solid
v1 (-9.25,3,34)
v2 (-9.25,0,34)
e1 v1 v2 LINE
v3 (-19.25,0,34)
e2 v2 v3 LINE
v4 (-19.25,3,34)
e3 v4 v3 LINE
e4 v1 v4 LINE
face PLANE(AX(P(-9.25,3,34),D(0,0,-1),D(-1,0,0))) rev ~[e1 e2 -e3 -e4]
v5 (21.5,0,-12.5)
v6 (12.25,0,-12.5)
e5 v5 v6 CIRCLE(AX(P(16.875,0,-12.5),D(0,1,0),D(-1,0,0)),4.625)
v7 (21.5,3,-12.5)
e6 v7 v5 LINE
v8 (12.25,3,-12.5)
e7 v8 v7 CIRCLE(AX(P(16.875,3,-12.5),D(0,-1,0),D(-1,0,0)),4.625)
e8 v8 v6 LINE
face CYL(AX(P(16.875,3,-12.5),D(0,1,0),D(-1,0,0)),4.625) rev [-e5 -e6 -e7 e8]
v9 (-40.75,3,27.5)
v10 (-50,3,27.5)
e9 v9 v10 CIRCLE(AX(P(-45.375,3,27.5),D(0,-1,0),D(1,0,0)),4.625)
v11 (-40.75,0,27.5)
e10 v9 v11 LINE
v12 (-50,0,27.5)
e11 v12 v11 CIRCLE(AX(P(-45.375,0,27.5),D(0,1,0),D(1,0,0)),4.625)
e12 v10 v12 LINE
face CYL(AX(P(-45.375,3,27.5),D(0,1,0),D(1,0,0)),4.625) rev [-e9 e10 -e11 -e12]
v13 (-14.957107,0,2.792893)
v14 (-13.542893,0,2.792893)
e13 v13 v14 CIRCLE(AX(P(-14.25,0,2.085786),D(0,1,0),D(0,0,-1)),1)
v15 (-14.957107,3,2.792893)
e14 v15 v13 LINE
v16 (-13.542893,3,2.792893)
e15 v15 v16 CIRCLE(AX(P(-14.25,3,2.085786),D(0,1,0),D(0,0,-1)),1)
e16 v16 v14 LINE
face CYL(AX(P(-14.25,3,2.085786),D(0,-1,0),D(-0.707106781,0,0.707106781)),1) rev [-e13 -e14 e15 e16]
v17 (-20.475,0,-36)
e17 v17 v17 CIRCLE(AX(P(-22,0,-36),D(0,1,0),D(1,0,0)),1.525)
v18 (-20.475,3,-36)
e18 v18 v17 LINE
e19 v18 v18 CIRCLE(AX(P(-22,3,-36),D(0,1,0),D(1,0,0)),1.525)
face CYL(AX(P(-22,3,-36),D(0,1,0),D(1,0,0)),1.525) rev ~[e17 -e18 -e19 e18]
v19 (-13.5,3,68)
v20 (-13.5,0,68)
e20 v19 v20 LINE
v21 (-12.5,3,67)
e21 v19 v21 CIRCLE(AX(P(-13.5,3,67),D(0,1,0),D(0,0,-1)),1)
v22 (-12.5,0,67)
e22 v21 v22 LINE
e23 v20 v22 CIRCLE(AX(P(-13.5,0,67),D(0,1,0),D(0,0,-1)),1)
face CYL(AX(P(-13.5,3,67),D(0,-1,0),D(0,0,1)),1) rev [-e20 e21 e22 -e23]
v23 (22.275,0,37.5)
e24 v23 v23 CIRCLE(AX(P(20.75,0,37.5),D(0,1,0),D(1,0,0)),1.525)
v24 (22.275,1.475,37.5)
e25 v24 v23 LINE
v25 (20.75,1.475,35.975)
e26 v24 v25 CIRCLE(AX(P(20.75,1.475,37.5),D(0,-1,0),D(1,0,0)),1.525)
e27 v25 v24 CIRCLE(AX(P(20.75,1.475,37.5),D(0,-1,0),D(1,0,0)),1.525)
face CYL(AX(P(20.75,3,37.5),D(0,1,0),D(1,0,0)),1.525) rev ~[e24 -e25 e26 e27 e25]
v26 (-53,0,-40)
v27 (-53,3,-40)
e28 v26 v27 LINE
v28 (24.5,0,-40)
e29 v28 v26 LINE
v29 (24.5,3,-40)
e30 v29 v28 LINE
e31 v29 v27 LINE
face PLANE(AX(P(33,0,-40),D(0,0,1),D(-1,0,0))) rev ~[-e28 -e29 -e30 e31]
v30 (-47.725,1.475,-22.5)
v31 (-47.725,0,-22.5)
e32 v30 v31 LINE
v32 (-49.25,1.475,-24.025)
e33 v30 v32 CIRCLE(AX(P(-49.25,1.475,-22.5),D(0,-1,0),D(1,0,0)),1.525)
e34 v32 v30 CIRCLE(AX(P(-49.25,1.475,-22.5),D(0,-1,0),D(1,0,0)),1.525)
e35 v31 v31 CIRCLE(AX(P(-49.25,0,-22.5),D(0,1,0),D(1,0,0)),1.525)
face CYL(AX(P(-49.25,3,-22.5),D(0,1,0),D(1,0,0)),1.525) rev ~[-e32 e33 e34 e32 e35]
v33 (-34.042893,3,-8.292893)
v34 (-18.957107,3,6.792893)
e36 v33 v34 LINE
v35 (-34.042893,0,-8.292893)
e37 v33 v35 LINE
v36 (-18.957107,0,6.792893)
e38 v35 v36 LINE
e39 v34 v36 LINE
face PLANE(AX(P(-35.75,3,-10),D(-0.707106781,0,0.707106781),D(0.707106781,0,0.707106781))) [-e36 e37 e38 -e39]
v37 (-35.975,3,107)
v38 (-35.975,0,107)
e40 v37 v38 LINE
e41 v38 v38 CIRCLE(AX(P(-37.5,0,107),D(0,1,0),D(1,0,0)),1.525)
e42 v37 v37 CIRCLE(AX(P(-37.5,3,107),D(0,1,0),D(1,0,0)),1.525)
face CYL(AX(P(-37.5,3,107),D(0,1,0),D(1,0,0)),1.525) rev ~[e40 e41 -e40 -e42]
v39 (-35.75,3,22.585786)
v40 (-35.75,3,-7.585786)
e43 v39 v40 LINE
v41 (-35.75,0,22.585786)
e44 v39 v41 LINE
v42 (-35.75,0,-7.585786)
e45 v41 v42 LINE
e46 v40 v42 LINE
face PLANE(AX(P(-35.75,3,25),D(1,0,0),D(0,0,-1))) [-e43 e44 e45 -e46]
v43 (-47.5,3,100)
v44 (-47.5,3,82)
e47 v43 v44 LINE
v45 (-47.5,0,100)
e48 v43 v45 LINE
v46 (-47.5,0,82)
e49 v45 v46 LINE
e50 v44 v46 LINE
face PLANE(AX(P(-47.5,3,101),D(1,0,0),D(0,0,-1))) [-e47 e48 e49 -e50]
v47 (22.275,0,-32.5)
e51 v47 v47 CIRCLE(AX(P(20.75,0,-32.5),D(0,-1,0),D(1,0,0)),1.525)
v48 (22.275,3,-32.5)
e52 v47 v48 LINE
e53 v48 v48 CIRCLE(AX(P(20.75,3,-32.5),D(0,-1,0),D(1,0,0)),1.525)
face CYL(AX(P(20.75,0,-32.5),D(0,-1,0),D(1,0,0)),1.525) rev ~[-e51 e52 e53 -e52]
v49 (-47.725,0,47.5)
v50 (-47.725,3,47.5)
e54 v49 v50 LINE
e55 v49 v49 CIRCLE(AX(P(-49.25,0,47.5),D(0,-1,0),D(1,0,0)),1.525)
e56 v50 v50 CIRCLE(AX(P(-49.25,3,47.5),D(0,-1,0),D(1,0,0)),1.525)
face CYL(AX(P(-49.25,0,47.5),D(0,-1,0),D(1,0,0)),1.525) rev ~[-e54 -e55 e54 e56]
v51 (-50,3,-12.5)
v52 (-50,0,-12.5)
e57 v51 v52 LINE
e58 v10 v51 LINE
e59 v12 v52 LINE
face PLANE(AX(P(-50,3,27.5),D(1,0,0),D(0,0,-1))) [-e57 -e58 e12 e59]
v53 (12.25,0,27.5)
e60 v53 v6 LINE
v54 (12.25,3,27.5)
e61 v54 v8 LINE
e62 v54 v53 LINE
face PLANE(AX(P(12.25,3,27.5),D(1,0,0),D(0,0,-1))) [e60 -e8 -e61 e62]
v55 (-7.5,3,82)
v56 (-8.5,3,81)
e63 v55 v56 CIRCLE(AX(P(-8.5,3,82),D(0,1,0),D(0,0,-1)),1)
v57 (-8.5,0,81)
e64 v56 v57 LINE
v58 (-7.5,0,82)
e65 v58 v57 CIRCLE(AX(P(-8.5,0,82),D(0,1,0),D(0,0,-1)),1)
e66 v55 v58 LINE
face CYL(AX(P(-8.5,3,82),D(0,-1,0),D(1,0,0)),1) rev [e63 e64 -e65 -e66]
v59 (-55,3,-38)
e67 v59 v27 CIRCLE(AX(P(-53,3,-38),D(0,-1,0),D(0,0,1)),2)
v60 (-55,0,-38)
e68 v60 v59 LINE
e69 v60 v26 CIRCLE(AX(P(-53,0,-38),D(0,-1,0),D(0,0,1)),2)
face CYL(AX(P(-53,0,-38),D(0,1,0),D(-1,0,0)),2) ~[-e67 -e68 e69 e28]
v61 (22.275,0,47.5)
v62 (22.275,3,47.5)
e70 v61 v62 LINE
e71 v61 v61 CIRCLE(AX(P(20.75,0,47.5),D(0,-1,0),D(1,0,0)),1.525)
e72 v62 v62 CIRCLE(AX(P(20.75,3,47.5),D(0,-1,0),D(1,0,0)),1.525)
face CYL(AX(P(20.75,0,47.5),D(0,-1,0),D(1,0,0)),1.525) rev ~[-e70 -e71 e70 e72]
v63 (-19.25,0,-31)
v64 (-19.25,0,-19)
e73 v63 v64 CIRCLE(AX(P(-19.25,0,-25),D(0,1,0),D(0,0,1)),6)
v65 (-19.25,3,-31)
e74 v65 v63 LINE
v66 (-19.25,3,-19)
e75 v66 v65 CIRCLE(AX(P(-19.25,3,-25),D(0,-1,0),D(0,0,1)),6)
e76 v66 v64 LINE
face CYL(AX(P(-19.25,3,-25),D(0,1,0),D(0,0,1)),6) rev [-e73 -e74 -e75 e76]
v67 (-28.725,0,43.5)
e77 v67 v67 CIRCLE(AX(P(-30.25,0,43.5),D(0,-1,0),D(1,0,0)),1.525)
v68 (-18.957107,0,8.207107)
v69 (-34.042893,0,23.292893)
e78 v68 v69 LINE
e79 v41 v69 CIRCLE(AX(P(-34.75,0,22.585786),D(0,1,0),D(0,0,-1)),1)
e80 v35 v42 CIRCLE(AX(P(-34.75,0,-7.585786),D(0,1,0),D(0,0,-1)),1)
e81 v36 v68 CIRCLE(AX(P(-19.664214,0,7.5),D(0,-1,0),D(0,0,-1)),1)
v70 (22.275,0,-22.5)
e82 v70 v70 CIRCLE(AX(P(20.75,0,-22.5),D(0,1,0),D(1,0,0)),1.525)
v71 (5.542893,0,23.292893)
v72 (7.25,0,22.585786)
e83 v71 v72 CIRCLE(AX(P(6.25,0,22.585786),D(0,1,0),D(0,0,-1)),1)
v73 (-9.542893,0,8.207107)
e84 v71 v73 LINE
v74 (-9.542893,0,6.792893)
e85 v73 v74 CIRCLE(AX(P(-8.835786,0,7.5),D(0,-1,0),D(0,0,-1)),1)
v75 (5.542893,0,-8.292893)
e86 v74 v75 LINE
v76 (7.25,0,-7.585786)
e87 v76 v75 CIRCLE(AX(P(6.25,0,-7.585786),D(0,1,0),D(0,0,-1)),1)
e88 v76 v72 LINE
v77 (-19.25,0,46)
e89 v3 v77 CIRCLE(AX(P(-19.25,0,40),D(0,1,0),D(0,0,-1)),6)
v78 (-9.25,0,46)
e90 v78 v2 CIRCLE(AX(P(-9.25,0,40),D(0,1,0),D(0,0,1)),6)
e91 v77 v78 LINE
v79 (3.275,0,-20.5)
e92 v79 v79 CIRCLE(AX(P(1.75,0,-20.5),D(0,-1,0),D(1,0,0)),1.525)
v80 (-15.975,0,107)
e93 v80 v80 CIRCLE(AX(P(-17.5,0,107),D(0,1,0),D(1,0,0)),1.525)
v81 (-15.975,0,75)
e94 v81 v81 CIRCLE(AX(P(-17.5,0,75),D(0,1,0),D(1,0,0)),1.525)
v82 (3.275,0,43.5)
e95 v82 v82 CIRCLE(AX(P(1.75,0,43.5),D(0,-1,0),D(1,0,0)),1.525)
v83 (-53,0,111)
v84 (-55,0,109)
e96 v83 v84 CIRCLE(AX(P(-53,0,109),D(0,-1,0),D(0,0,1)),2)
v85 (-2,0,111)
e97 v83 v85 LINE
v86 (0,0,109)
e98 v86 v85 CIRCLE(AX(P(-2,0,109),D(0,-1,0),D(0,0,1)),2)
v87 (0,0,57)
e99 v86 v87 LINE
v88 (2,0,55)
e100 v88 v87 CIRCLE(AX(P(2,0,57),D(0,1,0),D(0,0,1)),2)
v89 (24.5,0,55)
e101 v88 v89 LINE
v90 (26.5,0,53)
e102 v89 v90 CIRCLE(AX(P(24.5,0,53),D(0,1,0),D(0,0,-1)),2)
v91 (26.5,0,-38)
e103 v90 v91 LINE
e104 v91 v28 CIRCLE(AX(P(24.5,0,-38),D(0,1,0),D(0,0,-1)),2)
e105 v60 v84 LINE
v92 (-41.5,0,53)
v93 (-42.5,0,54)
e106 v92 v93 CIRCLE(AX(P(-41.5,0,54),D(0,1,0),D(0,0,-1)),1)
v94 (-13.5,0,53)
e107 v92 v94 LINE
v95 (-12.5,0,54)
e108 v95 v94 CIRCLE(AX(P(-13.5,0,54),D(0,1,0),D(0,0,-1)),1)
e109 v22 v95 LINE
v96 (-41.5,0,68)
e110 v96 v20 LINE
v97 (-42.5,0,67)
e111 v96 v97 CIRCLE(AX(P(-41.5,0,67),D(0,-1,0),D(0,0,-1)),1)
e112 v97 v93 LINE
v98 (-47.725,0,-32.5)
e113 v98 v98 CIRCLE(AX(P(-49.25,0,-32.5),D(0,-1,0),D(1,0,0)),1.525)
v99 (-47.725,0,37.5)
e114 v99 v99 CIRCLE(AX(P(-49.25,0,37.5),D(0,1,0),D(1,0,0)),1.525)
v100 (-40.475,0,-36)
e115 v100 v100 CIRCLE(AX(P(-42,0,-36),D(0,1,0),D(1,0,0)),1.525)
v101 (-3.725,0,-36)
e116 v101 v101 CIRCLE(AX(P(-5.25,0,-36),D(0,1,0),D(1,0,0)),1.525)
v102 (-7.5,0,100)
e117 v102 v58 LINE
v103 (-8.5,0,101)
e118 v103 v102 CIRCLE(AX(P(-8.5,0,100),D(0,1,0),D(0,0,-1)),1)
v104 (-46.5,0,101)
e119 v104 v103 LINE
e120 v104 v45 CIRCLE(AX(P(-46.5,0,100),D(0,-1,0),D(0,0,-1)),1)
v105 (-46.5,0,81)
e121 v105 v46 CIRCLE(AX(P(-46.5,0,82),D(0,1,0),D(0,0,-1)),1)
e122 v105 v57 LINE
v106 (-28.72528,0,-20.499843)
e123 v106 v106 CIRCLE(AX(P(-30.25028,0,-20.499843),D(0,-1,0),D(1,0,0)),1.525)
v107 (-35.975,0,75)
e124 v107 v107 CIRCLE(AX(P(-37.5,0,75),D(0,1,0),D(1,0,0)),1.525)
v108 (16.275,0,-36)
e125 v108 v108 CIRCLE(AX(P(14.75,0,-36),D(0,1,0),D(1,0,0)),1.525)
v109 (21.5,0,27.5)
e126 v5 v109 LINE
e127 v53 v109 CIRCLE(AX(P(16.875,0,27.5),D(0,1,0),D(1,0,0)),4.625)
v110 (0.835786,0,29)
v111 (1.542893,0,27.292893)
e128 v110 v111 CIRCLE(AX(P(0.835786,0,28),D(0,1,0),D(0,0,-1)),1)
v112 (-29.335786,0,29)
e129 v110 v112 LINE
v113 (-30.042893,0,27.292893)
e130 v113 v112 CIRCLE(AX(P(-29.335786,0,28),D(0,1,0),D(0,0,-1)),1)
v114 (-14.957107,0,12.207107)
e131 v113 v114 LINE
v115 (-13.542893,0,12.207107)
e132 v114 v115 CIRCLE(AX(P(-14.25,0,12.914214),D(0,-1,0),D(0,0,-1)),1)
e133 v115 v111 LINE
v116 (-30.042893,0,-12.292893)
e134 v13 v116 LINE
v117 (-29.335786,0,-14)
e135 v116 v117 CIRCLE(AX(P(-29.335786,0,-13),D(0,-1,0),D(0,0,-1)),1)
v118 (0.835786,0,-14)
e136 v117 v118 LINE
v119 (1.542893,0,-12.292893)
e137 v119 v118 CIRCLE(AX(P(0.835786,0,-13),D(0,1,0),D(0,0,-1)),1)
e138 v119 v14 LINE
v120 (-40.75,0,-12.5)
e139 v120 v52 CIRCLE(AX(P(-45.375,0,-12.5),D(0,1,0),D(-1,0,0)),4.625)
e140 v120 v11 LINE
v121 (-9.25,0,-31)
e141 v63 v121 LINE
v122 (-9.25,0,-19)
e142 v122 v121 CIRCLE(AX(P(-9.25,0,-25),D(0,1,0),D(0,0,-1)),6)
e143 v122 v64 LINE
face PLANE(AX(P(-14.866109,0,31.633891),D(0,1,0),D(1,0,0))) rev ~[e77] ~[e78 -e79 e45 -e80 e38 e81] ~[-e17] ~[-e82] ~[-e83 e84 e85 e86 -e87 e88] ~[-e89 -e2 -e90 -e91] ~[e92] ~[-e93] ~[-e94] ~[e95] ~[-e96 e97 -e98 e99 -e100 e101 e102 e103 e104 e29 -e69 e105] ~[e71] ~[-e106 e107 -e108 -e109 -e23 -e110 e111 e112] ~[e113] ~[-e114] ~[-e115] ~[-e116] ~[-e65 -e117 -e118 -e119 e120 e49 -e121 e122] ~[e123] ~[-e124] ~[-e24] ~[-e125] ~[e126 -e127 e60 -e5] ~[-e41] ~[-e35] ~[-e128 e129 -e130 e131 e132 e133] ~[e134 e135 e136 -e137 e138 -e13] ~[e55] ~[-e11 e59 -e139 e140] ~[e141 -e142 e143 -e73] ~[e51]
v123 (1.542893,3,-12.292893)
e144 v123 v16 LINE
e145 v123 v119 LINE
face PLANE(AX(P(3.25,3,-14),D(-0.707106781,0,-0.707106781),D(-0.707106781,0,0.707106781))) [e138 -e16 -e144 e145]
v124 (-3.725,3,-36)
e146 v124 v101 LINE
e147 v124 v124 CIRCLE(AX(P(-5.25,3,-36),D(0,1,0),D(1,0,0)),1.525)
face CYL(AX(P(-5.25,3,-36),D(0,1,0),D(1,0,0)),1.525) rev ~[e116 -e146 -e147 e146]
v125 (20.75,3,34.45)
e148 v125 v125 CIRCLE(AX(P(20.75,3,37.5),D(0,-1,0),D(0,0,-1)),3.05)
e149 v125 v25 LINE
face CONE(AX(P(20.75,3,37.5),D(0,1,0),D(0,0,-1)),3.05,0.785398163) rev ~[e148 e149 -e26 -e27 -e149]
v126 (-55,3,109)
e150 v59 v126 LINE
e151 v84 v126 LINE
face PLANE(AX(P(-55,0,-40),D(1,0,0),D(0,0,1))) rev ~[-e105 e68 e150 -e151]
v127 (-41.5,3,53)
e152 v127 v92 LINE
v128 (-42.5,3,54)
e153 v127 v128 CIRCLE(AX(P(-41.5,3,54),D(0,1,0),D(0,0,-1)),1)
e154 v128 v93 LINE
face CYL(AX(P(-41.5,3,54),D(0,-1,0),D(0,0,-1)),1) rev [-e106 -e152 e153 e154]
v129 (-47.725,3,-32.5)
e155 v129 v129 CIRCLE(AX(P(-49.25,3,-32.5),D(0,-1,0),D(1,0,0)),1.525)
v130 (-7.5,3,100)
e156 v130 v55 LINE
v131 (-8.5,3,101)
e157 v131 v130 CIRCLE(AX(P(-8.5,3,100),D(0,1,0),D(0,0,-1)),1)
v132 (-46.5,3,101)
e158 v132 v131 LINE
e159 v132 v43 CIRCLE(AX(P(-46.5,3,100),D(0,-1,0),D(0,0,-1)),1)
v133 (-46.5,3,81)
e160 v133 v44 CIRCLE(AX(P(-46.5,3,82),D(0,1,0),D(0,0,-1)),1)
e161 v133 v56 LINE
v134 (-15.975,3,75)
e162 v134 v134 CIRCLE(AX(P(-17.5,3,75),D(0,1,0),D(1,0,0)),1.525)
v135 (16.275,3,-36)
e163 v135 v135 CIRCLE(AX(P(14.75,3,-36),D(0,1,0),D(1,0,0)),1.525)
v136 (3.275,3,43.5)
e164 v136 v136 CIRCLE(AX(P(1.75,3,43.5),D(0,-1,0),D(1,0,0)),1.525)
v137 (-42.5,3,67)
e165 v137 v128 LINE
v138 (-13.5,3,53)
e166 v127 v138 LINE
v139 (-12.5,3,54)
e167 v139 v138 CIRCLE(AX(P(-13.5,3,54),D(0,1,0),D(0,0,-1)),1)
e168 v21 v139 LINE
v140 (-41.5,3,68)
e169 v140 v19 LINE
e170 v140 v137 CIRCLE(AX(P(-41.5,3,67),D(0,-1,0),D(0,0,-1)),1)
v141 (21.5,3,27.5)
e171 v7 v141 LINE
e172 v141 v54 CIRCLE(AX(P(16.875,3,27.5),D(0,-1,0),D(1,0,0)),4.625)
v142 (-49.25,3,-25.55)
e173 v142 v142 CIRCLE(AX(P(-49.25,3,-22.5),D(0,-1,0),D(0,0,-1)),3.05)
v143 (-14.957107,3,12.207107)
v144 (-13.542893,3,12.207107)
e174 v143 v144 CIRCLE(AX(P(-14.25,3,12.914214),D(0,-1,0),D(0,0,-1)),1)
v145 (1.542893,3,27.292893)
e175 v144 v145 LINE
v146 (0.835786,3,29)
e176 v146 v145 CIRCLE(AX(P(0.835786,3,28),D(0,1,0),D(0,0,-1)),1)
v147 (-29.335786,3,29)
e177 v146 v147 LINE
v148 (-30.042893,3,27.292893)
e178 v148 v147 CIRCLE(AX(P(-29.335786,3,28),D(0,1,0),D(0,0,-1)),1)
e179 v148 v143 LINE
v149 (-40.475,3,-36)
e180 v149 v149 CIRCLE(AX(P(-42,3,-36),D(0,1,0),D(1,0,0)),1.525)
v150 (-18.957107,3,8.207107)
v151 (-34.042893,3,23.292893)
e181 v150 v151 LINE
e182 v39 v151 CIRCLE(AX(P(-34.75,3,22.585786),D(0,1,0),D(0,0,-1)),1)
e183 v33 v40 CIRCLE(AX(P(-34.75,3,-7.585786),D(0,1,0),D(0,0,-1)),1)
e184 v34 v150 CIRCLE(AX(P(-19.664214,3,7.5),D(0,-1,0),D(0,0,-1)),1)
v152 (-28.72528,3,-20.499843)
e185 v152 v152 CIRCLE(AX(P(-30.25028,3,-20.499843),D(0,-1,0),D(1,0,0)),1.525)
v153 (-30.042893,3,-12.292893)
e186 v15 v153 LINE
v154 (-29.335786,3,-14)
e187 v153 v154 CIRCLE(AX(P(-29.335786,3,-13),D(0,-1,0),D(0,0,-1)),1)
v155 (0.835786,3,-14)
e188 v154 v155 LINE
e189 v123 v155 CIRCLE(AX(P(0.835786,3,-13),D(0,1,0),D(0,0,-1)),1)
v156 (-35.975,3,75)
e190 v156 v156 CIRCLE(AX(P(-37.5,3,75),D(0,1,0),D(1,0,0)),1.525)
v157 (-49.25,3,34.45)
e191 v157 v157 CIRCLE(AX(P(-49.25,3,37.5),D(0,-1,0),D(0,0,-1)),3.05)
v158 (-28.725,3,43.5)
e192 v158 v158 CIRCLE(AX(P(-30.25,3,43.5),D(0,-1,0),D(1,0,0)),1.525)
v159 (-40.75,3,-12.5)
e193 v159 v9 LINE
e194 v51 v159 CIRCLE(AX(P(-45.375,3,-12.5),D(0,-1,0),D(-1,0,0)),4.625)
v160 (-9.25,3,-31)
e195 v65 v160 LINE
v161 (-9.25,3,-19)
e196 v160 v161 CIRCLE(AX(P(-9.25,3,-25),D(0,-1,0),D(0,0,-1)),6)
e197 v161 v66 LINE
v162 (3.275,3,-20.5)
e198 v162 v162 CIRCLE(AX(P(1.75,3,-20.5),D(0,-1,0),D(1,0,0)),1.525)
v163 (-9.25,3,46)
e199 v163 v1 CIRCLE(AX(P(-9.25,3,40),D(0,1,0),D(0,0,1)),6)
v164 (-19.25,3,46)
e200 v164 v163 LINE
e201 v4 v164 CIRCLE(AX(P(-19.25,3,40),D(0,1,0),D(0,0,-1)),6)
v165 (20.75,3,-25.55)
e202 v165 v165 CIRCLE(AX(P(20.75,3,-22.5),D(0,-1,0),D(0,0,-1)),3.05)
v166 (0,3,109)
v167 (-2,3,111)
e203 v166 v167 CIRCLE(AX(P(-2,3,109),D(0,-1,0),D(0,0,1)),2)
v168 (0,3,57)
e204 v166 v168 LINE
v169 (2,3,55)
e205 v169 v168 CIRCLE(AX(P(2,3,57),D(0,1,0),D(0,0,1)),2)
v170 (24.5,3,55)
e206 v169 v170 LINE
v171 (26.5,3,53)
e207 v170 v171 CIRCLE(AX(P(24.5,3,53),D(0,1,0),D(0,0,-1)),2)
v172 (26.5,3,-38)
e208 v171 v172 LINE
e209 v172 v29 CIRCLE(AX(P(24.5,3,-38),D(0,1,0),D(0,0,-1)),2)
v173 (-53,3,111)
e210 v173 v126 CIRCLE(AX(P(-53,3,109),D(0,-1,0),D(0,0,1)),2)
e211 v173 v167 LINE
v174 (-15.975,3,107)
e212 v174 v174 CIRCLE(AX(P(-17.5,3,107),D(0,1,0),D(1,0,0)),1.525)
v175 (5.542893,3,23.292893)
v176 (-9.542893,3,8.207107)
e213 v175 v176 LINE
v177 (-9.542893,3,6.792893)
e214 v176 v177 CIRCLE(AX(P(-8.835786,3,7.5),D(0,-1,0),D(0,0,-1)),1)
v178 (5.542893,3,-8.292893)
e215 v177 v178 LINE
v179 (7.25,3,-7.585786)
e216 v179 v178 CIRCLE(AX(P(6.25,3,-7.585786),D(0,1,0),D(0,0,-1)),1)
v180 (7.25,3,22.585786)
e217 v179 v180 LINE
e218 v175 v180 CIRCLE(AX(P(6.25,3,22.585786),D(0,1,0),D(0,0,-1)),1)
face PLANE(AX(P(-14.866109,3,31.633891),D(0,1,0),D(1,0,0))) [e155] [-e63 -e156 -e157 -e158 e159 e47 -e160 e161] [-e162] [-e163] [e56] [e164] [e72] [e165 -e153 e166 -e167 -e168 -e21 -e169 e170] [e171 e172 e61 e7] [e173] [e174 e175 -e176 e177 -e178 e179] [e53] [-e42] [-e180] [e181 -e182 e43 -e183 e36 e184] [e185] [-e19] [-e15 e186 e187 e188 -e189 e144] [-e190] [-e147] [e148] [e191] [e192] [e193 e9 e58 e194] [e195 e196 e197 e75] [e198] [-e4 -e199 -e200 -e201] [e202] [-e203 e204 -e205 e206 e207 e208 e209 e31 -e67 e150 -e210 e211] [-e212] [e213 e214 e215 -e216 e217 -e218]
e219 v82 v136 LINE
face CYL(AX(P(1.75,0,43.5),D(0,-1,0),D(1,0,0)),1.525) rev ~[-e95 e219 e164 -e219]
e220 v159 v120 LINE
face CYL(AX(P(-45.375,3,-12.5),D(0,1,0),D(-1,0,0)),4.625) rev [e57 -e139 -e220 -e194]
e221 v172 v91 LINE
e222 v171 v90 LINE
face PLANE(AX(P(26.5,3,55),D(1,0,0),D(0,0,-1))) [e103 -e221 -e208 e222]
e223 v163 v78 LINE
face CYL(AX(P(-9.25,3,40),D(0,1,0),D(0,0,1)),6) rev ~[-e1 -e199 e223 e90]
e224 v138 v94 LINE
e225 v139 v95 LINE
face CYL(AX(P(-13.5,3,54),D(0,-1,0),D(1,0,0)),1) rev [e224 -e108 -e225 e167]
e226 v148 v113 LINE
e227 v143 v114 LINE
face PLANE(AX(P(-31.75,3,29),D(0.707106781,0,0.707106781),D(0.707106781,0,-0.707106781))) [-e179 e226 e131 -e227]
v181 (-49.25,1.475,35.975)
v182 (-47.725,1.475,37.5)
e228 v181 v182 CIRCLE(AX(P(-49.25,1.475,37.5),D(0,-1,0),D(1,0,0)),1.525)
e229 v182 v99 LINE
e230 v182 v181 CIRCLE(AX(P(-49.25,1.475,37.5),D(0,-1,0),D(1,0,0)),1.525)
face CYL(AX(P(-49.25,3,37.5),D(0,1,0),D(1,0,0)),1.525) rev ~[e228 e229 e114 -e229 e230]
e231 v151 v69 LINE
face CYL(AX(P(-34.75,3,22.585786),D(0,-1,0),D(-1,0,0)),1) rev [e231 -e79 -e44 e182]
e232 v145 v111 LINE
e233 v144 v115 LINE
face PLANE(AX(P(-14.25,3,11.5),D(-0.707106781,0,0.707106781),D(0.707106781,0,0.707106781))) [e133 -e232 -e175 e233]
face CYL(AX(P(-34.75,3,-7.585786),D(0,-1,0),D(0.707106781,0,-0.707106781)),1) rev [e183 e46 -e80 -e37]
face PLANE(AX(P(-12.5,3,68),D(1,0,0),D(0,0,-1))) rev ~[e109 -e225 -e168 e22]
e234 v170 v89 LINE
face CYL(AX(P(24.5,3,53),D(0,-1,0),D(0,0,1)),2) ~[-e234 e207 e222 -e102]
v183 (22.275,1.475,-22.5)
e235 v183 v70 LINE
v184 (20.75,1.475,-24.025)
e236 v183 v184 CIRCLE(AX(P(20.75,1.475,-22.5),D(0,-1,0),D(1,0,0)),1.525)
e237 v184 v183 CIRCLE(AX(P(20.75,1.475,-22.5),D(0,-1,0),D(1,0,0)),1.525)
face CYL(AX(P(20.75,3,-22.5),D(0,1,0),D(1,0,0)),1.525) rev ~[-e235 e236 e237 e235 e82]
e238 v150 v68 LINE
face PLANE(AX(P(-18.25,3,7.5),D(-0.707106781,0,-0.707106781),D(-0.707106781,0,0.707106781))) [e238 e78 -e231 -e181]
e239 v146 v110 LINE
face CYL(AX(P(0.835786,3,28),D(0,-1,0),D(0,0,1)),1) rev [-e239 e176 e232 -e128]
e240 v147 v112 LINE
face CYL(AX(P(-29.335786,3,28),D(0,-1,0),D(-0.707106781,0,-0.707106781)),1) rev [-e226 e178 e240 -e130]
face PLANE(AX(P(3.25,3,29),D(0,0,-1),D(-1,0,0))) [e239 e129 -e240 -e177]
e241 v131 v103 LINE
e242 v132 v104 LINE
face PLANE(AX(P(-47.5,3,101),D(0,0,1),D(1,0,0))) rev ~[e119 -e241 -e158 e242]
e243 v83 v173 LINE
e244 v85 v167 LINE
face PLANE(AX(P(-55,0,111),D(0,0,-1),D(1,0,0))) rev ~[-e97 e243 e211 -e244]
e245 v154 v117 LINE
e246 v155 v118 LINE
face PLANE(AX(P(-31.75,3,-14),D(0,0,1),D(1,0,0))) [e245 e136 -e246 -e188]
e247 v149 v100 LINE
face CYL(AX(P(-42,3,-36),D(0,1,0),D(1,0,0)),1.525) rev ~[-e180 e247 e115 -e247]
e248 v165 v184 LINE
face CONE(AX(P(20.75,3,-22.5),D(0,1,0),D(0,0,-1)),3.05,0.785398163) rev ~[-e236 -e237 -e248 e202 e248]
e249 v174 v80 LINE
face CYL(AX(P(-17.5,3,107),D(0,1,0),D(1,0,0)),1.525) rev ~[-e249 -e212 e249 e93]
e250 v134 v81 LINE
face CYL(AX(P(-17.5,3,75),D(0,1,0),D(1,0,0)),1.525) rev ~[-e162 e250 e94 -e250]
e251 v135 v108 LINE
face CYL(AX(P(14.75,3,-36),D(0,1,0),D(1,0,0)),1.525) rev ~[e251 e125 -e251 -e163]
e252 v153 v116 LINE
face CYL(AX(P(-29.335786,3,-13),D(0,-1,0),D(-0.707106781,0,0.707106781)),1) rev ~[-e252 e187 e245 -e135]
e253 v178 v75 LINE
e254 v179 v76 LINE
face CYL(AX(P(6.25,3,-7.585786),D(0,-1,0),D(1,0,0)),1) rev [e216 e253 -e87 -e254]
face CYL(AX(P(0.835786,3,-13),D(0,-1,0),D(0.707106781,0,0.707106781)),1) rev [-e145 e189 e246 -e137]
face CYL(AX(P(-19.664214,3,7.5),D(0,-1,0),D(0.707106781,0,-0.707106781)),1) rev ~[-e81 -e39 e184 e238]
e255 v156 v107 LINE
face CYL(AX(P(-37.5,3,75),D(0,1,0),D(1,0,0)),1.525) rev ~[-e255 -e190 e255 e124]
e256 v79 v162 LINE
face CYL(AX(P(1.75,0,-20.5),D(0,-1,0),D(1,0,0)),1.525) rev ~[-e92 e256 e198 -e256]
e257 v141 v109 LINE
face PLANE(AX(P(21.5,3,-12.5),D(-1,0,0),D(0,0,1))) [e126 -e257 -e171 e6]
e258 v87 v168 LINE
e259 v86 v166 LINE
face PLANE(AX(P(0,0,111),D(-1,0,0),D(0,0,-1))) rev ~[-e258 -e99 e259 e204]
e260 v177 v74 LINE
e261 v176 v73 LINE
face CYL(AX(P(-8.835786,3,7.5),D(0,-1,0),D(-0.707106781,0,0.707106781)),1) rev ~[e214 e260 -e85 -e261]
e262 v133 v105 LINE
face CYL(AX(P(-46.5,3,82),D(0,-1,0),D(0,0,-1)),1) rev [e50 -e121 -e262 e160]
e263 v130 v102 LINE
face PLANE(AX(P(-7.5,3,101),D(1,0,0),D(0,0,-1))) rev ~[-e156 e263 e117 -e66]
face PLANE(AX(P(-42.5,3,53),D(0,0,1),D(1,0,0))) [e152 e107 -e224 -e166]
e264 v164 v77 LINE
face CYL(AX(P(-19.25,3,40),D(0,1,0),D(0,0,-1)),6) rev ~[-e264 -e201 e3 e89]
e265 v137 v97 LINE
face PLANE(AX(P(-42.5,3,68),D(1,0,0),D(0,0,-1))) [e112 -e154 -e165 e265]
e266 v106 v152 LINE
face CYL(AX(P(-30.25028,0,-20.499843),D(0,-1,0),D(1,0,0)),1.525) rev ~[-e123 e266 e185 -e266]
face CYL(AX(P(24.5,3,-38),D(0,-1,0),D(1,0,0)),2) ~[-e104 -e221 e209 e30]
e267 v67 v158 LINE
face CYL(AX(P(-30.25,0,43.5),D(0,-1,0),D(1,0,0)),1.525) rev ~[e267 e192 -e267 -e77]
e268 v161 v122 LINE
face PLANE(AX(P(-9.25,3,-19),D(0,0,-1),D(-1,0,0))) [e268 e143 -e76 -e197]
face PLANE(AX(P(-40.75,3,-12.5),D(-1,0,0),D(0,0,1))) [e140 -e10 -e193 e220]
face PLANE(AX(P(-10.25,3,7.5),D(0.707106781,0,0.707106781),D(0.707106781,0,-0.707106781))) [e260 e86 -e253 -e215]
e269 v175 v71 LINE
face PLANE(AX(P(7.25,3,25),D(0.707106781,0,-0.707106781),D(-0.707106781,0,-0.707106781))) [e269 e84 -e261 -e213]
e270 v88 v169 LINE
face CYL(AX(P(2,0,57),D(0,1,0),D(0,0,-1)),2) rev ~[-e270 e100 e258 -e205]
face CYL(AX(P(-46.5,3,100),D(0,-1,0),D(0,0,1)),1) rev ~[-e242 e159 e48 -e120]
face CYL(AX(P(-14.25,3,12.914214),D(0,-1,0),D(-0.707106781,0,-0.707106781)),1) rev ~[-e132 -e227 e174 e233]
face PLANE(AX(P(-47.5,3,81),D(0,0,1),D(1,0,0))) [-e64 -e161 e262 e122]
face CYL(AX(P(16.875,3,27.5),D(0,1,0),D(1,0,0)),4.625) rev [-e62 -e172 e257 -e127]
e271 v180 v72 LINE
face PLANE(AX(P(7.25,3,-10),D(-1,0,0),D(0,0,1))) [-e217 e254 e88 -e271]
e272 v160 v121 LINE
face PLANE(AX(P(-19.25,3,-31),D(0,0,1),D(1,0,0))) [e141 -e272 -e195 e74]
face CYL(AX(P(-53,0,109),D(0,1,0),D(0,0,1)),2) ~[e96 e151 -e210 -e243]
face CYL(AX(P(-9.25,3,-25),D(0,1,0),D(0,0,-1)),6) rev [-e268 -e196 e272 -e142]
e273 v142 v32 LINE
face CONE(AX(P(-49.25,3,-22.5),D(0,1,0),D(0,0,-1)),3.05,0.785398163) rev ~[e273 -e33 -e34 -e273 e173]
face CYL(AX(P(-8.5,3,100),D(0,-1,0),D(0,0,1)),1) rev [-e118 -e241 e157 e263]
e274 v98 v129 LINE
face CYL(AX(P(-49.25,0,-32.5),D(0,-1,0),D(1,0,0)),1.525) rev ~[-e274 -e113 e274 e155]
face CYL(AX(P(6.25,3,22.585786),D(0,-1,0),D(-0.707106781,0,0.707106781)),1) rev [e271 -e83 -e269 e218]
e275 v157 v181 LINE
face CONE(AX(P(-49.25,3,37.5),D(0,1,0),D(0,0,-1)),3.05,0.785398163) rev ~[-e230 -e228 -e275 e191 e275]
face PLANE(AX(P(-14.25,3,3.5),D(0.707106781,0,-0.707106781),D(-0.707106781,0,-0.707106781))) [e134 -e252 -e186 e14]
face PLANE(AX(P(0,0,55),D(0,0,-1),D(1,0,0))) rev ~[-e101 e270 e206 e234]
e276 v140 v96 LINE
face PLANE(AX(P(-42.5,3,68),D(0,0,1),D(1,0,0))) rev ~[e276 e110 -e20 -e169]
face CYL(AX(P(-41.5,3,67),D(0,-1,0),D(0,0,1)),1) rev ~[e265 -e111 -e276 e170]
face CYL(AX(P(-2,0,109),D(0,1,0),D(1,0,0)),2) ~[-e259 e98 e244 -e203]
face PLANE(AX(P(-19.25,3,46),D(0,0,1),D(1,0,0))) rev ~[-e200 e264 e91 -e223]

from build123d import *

# Parameters (mm, degrees)
EXTRUDE_1_DEPTH           = 3
SKETCH_2_R                = 1.525
CUT_EXTRUDE_1_DEPTH       = 4
SKETCH_5_W                = 6.5
SKETCH_5_H                = 95
CUT_EXTRUDE_4_DEPTH       = 4
FILLET_3_R                = 2
SKETCH_7_R                = 1.525
CUT_EXTRUDE_6_DEPTH       = 10
SKETCH_10_R               = 1.525
CUT_EXTRUDE_8_DEPTH       = 10
CUT_EXTRUDE_9_DEPTH       = 1
CUT_EXTRUDE_9_DEPTH_BACK  = 4
FILLET_4_R                = 1
SKETCH_15_W               = 40
SKETCH_15_H               = 20
SKETCH_15_W_2             = 30
SKETCH_15_H_2             = 15
CUT_EXTRUDE_10_DEPTH      = 1
CUT_EXTRUDE_10_DEPTH_BACK = 4
FILLET_5_R                = 1
CUT_EXTRUDE_12_DEPTH      = 1
CUT_EXTRUDE_12_DEPTH_BACK = 4
SKETCH_19_R               = 1.525
CUT_EXTRUDE_13_DEPTH      = 10
CUT_EXTRUDE_14_DEPTH      = 10
HOLE_WIZARD_1_D           = 3.05
HOLE_WIZARD_1_DEPTH       = 100
HOLE_WIZARD_1_CSINK_D     = 6.1
HOLE_WIZARD_1_CSINK_ANGLE = 90


with BuildPart() as part:
    # 草图1 → 凸台-拉伸1 (new body)
    with BuildSketch(Plane(origin=(0, 0, 0), x_dir=(1, 0, 0), z_dir=(0, 1, 0))):
        Polygon((33, -55), (33, 0), (33, 40), (-55, 40), (-55, -111), (0, -111), (0, -55), align=None)
    extrude(amount=EXTRUDE_1_DEPTH)

    # 草图2 → 切除-拉伸1 (cut, through all)
    with BuildSketch(Plane(origin=(0, 3, 0), x_dir=(1, 0, 0), z_dir=(0, 1, 0))):
        with Locations((-37.5, -107)):
            Circle(SKETCH_2_R)
        with Locations((-17.5, -107)):
            Circle(SKETCH_2_R)
        with Locations((-37.5, -75)):
            Circle(SKETCH_2_R)
        with Locations((-17.5, -75)):
            Circle(SKETCH_2_R)
        with Locations((-42, 36)):
            Circle(SKETCH_2_R)
        with Locations((-22, 36)):
            Circle(SKETCH_2_R)
        with Locations((-5.25, 36)):
            Circle(SKETCH_2_R)
        with Locations((14.75, 36)):
            Circle(SKETCH_2_R)
    extrude(amount=-CUT_EXTRUDE_1_DEPTH, mode=Mode.SUBTRACT)

    # 草图5 → 切除-拉伸4 (cut, through all)
    with BuildSketch(Plane(origin=(0, 3, 0), x_dir=(1, 0, 0), z_dir=(0, 1, 0))):
        with Locations((29.75, -7.5)):
            Rectangle(SKETCH_5_W, SKETCH_5_H)
    extrude(amount=-CUT_EXTRUDE_4_DEPTH, mode=Mode.SUBTRACT)

    # 圆角3
    fillet_3_edges = [part.edges().sort_by_distance(p)[0] for p in [
        (0, 1.5, 111),
        (-55, 1.5, 111),
        (-55, 1.5, -40),
        (0, 1.5, 55),
        (26.5, 1.5, 55),
        (26.5, 1.5, -40),
    ]]
    fillet(fillet_3_edges, radius=FILLET_3_R)

    # 草图7 → 切除-拉伸6 (cut)
    with BuildSketch(Plane.XZ):
        with Locations((-49.25, 47.5)):
            Circle(SKETCH_7_R)
        with Locations((-49.25, -32.5)):
            Circle(SKETCH_7_R)
        with Locations((20.75, -32.5)):
            Circle(SKETCH_7_R)
        with Locations((20.75, 47.5)):
            Circle(SKETCH_7_R)
    extrude(amount=-CUT_EXTRUDE_6_DEPTH, mode=Mode.SUBTRACT)

    # 草图10 → 切除-拉伸8 (cut)
    with BuildSketch(Plane.XZ):
        with Locations((-30.25, 43.5)):
            Circle(SKETCH_10_R)
        with Locations((1.75, 43.5)):
            Circle(SKETCH_10_R)
        with Locations((-30.25028, -20.4998432)):
            Circle(SKETCH_10_R)
        with Locations((1.75, -20.5)):
            Circle(SKETCH_10_R)
    extrude(amount=-CUT_EXTRUDE_8_DEPTH, mode=Mode.SUBTRACT)

    # 草图14 → 切除-拉伸9 (cut, two sides)
    with BuildSketch(Plane(origin=(0, 3, 0), x_dir=(1, 0, 0), z_dir=(0, 1, 0))) as cut_extrude_9_sk:
        Polygon((-10.25, -7.5), (7.25, 10), (7.25, -25), align=None)
        Polygon((-31.75, 14), (3.25, 14), (-14.25, -3.5), align=None)
        Polygon((-14.25, -11.5), (3.25, -29), (-31.75, -29), align=None)
        Polygon((-18.25, -7.5), (-35.75, -25), (-35.75, 10), align=None)
    extrude(amount=CUT_EXTRUDE_9_DEPTH, mode=Mode.SUBTRACT)
    extrude(cut_extrude_9_sk.sketch, amount=-CUT_EXTRUDE_9_DEPTH_BACK, mode=Mode.SUBTRACT)

    # 圆角4
    fillet_4_edges = [part.edges().sort_by_distance(p)[0] for p in [
        (3.25, 1.5, 29),
        (-31.75, 1.5, 29),
        (-14.25, 1.5, 11.5),
        (7.25, 1.5, -10),
        (7.25, 1.5, 25),
        (-10.25, 1.5, 7.5),
        (-35.75, 1.5, 25),
        (-35.75, 1.5, -10),
        (-18.25, 1.5, 7.5),
        (-14.25, 1.5, 3.5),
        (-31.75, 1.5, -14),
        (3.25, 1.5, -14),
    ]]
    fillet(fillet_4_edges, radius=FILLET_4_R)

    # 草图15 → 切除-拉伸10 (cut, two sides)
    with BuildSketch(Plane(origin=(0, 3, 0), x_dir=(1, 0, 0), z_dir=(0, 1, 0))) as cut_extrude_10_sk:
        with Locations((-27.5, -91)):
            Rectangle(SKETCH_15_W, SKETCH_15_H)
        with Locations((-27.5, -60.5)):
            Rectangle(SKETCH_15_W_2, SKETCH_15_H_2)
    extrude(amount=CUT_EXTRUDE_10_DEPTH, mode=Mode.SUBTRACT)
    extrude(cut_extrude_10_sk.sketch, amount=-CUT_EXTRUDE_10_DEPTH_BACK, mode=Mode.SUBTRACT)

    # 圆角5
    fillet_5_edges = [part.edges().sort_by_distance(p)[0] for p in [
        (-7.5, 1.5, 81),
        (-7.5, 1.5, 101),
        (-47.5, 1.5, 101),
        (-47.5, 1.5, 81),
        (-12.5, 1.5, 53),
        (-12.5, 1.5, 68),
        (-42.5, 1.5, 68),
        (-42.5, 1.5, 53),
    ]]
    fillet(fillet_5_edges, radius=FILLET_5_R)

    # 草图17 → 切除-拉伸12 (cut, two sides)
    with BuildSketch(Plane(origin=(0, 3, 0), x_dir=(1, 0, 0), z_dir=(0, 1, 0))) as cut_extrude_12_sk:
        with BuildLine():
            Line((-19.25, 31), (-9.25, 31))
            ThreePointArc((-9.25, 31), (-3.25, 25), (-9.25, 19))
            Line((-9.25, 19), (-19.25, 19))
            ThreePointArc((-19.25, 19), (-25.25, 25), (-19.25, 31))
        make_face()
        with BuildLine():
            Line((-19.25, -46), (-9.25, -46))
            ThreePointArc((-9.25, -46), (-3.25, -40), (-9.25, -34))
            Line((-9.25, -34), (-19.25, -34))
            ThreePointArc((-19.25, -34), (-25.25, -40), (-19.25, -46))
        make_face()
    extrude(amount=CUT_EXTRUDE_12_DEPTH, mode=Mode.SUBTRACT)
    extrude(cut_extrude_12_sk.sketch, amount=-CUT_EXTRUDE_12_DEPTH_BACK, mode=Mode.SUBTRACT)

    # 草图19 → 切除-拉伸13 (cut)
    with BuildSketch(Plane(origin=(0, 3, 0), x_dir=(1, 0, 0), z_dir=(0, 1, 0))):
        with Locations((-49.25, -37.5)):
            Circle(SKETCH_19_R)
        with Locations((20.75, 22.5)):
            Circle(SKETCH_19_R)
        with Locations((-49.25, 22.5)):
            Circle(SKETCH_19_R)
        with Locations((20.75, -37.5)):
            Circle(SKETCH_19_R)
    extrude(amount=-CUT_EXTRUDE_13_DEPTH, mode=Mode.SUBTRACT)

    # 草图16 → 切除-拉伸14 (cut)
    with BuildSketch(Plane(origin=(0, 3, 0), x_dir=(1, 0, 0), z_dir=(0, 1, 0))):
        with BuildLine():
            Line((-50, -27.5), (-50, 12.5))
            ThreePointArc((-50, 12.5), (-45.375, 17.125), (-40.75, 12.5))
            Line((-40.75, 12.5), (-40.75, -27.5))
            ThreePointArc((-40.75, -27.5), (-45.375, -32.125), (-50, -27.5))
        make_face()
        with BuildLine():
            Line((12.25, -27.5), (12.25, 12.5))
            ThreePointArc((12.25, 12.5), (16.875, 17.125), (21.5, 12.5))
            Line((21.5, 12.5), (21.5, -27.5))
            ThreePointArc((21.5, -27.5), (16.875, -32.125), (12.25, -27.5))
        make_face()
    extrude(amount=-CUT_EXTRUDE_14_DEPTH, mode=Mode.SUBTRACT)

    # 孔1
    with Locations(Plane(origin=(20.75, 3, 37.5), x_dir=(0, 0, 1), z_dir=(0, 1, 0))):
        with Locations((0, 0), (-60, -70), (0, -70), (-60, 0)):
            CounterSinkHole(HOLE_WIZARD_1_D / 2, HOLE_WIZARD_1_CSINK_D / 2, depth=HOLE_WIZARD_1_DEPTH, counter_sink_angle=HOLE_WIZARD_1_CSINK_ANGLE)


solid = part.part
